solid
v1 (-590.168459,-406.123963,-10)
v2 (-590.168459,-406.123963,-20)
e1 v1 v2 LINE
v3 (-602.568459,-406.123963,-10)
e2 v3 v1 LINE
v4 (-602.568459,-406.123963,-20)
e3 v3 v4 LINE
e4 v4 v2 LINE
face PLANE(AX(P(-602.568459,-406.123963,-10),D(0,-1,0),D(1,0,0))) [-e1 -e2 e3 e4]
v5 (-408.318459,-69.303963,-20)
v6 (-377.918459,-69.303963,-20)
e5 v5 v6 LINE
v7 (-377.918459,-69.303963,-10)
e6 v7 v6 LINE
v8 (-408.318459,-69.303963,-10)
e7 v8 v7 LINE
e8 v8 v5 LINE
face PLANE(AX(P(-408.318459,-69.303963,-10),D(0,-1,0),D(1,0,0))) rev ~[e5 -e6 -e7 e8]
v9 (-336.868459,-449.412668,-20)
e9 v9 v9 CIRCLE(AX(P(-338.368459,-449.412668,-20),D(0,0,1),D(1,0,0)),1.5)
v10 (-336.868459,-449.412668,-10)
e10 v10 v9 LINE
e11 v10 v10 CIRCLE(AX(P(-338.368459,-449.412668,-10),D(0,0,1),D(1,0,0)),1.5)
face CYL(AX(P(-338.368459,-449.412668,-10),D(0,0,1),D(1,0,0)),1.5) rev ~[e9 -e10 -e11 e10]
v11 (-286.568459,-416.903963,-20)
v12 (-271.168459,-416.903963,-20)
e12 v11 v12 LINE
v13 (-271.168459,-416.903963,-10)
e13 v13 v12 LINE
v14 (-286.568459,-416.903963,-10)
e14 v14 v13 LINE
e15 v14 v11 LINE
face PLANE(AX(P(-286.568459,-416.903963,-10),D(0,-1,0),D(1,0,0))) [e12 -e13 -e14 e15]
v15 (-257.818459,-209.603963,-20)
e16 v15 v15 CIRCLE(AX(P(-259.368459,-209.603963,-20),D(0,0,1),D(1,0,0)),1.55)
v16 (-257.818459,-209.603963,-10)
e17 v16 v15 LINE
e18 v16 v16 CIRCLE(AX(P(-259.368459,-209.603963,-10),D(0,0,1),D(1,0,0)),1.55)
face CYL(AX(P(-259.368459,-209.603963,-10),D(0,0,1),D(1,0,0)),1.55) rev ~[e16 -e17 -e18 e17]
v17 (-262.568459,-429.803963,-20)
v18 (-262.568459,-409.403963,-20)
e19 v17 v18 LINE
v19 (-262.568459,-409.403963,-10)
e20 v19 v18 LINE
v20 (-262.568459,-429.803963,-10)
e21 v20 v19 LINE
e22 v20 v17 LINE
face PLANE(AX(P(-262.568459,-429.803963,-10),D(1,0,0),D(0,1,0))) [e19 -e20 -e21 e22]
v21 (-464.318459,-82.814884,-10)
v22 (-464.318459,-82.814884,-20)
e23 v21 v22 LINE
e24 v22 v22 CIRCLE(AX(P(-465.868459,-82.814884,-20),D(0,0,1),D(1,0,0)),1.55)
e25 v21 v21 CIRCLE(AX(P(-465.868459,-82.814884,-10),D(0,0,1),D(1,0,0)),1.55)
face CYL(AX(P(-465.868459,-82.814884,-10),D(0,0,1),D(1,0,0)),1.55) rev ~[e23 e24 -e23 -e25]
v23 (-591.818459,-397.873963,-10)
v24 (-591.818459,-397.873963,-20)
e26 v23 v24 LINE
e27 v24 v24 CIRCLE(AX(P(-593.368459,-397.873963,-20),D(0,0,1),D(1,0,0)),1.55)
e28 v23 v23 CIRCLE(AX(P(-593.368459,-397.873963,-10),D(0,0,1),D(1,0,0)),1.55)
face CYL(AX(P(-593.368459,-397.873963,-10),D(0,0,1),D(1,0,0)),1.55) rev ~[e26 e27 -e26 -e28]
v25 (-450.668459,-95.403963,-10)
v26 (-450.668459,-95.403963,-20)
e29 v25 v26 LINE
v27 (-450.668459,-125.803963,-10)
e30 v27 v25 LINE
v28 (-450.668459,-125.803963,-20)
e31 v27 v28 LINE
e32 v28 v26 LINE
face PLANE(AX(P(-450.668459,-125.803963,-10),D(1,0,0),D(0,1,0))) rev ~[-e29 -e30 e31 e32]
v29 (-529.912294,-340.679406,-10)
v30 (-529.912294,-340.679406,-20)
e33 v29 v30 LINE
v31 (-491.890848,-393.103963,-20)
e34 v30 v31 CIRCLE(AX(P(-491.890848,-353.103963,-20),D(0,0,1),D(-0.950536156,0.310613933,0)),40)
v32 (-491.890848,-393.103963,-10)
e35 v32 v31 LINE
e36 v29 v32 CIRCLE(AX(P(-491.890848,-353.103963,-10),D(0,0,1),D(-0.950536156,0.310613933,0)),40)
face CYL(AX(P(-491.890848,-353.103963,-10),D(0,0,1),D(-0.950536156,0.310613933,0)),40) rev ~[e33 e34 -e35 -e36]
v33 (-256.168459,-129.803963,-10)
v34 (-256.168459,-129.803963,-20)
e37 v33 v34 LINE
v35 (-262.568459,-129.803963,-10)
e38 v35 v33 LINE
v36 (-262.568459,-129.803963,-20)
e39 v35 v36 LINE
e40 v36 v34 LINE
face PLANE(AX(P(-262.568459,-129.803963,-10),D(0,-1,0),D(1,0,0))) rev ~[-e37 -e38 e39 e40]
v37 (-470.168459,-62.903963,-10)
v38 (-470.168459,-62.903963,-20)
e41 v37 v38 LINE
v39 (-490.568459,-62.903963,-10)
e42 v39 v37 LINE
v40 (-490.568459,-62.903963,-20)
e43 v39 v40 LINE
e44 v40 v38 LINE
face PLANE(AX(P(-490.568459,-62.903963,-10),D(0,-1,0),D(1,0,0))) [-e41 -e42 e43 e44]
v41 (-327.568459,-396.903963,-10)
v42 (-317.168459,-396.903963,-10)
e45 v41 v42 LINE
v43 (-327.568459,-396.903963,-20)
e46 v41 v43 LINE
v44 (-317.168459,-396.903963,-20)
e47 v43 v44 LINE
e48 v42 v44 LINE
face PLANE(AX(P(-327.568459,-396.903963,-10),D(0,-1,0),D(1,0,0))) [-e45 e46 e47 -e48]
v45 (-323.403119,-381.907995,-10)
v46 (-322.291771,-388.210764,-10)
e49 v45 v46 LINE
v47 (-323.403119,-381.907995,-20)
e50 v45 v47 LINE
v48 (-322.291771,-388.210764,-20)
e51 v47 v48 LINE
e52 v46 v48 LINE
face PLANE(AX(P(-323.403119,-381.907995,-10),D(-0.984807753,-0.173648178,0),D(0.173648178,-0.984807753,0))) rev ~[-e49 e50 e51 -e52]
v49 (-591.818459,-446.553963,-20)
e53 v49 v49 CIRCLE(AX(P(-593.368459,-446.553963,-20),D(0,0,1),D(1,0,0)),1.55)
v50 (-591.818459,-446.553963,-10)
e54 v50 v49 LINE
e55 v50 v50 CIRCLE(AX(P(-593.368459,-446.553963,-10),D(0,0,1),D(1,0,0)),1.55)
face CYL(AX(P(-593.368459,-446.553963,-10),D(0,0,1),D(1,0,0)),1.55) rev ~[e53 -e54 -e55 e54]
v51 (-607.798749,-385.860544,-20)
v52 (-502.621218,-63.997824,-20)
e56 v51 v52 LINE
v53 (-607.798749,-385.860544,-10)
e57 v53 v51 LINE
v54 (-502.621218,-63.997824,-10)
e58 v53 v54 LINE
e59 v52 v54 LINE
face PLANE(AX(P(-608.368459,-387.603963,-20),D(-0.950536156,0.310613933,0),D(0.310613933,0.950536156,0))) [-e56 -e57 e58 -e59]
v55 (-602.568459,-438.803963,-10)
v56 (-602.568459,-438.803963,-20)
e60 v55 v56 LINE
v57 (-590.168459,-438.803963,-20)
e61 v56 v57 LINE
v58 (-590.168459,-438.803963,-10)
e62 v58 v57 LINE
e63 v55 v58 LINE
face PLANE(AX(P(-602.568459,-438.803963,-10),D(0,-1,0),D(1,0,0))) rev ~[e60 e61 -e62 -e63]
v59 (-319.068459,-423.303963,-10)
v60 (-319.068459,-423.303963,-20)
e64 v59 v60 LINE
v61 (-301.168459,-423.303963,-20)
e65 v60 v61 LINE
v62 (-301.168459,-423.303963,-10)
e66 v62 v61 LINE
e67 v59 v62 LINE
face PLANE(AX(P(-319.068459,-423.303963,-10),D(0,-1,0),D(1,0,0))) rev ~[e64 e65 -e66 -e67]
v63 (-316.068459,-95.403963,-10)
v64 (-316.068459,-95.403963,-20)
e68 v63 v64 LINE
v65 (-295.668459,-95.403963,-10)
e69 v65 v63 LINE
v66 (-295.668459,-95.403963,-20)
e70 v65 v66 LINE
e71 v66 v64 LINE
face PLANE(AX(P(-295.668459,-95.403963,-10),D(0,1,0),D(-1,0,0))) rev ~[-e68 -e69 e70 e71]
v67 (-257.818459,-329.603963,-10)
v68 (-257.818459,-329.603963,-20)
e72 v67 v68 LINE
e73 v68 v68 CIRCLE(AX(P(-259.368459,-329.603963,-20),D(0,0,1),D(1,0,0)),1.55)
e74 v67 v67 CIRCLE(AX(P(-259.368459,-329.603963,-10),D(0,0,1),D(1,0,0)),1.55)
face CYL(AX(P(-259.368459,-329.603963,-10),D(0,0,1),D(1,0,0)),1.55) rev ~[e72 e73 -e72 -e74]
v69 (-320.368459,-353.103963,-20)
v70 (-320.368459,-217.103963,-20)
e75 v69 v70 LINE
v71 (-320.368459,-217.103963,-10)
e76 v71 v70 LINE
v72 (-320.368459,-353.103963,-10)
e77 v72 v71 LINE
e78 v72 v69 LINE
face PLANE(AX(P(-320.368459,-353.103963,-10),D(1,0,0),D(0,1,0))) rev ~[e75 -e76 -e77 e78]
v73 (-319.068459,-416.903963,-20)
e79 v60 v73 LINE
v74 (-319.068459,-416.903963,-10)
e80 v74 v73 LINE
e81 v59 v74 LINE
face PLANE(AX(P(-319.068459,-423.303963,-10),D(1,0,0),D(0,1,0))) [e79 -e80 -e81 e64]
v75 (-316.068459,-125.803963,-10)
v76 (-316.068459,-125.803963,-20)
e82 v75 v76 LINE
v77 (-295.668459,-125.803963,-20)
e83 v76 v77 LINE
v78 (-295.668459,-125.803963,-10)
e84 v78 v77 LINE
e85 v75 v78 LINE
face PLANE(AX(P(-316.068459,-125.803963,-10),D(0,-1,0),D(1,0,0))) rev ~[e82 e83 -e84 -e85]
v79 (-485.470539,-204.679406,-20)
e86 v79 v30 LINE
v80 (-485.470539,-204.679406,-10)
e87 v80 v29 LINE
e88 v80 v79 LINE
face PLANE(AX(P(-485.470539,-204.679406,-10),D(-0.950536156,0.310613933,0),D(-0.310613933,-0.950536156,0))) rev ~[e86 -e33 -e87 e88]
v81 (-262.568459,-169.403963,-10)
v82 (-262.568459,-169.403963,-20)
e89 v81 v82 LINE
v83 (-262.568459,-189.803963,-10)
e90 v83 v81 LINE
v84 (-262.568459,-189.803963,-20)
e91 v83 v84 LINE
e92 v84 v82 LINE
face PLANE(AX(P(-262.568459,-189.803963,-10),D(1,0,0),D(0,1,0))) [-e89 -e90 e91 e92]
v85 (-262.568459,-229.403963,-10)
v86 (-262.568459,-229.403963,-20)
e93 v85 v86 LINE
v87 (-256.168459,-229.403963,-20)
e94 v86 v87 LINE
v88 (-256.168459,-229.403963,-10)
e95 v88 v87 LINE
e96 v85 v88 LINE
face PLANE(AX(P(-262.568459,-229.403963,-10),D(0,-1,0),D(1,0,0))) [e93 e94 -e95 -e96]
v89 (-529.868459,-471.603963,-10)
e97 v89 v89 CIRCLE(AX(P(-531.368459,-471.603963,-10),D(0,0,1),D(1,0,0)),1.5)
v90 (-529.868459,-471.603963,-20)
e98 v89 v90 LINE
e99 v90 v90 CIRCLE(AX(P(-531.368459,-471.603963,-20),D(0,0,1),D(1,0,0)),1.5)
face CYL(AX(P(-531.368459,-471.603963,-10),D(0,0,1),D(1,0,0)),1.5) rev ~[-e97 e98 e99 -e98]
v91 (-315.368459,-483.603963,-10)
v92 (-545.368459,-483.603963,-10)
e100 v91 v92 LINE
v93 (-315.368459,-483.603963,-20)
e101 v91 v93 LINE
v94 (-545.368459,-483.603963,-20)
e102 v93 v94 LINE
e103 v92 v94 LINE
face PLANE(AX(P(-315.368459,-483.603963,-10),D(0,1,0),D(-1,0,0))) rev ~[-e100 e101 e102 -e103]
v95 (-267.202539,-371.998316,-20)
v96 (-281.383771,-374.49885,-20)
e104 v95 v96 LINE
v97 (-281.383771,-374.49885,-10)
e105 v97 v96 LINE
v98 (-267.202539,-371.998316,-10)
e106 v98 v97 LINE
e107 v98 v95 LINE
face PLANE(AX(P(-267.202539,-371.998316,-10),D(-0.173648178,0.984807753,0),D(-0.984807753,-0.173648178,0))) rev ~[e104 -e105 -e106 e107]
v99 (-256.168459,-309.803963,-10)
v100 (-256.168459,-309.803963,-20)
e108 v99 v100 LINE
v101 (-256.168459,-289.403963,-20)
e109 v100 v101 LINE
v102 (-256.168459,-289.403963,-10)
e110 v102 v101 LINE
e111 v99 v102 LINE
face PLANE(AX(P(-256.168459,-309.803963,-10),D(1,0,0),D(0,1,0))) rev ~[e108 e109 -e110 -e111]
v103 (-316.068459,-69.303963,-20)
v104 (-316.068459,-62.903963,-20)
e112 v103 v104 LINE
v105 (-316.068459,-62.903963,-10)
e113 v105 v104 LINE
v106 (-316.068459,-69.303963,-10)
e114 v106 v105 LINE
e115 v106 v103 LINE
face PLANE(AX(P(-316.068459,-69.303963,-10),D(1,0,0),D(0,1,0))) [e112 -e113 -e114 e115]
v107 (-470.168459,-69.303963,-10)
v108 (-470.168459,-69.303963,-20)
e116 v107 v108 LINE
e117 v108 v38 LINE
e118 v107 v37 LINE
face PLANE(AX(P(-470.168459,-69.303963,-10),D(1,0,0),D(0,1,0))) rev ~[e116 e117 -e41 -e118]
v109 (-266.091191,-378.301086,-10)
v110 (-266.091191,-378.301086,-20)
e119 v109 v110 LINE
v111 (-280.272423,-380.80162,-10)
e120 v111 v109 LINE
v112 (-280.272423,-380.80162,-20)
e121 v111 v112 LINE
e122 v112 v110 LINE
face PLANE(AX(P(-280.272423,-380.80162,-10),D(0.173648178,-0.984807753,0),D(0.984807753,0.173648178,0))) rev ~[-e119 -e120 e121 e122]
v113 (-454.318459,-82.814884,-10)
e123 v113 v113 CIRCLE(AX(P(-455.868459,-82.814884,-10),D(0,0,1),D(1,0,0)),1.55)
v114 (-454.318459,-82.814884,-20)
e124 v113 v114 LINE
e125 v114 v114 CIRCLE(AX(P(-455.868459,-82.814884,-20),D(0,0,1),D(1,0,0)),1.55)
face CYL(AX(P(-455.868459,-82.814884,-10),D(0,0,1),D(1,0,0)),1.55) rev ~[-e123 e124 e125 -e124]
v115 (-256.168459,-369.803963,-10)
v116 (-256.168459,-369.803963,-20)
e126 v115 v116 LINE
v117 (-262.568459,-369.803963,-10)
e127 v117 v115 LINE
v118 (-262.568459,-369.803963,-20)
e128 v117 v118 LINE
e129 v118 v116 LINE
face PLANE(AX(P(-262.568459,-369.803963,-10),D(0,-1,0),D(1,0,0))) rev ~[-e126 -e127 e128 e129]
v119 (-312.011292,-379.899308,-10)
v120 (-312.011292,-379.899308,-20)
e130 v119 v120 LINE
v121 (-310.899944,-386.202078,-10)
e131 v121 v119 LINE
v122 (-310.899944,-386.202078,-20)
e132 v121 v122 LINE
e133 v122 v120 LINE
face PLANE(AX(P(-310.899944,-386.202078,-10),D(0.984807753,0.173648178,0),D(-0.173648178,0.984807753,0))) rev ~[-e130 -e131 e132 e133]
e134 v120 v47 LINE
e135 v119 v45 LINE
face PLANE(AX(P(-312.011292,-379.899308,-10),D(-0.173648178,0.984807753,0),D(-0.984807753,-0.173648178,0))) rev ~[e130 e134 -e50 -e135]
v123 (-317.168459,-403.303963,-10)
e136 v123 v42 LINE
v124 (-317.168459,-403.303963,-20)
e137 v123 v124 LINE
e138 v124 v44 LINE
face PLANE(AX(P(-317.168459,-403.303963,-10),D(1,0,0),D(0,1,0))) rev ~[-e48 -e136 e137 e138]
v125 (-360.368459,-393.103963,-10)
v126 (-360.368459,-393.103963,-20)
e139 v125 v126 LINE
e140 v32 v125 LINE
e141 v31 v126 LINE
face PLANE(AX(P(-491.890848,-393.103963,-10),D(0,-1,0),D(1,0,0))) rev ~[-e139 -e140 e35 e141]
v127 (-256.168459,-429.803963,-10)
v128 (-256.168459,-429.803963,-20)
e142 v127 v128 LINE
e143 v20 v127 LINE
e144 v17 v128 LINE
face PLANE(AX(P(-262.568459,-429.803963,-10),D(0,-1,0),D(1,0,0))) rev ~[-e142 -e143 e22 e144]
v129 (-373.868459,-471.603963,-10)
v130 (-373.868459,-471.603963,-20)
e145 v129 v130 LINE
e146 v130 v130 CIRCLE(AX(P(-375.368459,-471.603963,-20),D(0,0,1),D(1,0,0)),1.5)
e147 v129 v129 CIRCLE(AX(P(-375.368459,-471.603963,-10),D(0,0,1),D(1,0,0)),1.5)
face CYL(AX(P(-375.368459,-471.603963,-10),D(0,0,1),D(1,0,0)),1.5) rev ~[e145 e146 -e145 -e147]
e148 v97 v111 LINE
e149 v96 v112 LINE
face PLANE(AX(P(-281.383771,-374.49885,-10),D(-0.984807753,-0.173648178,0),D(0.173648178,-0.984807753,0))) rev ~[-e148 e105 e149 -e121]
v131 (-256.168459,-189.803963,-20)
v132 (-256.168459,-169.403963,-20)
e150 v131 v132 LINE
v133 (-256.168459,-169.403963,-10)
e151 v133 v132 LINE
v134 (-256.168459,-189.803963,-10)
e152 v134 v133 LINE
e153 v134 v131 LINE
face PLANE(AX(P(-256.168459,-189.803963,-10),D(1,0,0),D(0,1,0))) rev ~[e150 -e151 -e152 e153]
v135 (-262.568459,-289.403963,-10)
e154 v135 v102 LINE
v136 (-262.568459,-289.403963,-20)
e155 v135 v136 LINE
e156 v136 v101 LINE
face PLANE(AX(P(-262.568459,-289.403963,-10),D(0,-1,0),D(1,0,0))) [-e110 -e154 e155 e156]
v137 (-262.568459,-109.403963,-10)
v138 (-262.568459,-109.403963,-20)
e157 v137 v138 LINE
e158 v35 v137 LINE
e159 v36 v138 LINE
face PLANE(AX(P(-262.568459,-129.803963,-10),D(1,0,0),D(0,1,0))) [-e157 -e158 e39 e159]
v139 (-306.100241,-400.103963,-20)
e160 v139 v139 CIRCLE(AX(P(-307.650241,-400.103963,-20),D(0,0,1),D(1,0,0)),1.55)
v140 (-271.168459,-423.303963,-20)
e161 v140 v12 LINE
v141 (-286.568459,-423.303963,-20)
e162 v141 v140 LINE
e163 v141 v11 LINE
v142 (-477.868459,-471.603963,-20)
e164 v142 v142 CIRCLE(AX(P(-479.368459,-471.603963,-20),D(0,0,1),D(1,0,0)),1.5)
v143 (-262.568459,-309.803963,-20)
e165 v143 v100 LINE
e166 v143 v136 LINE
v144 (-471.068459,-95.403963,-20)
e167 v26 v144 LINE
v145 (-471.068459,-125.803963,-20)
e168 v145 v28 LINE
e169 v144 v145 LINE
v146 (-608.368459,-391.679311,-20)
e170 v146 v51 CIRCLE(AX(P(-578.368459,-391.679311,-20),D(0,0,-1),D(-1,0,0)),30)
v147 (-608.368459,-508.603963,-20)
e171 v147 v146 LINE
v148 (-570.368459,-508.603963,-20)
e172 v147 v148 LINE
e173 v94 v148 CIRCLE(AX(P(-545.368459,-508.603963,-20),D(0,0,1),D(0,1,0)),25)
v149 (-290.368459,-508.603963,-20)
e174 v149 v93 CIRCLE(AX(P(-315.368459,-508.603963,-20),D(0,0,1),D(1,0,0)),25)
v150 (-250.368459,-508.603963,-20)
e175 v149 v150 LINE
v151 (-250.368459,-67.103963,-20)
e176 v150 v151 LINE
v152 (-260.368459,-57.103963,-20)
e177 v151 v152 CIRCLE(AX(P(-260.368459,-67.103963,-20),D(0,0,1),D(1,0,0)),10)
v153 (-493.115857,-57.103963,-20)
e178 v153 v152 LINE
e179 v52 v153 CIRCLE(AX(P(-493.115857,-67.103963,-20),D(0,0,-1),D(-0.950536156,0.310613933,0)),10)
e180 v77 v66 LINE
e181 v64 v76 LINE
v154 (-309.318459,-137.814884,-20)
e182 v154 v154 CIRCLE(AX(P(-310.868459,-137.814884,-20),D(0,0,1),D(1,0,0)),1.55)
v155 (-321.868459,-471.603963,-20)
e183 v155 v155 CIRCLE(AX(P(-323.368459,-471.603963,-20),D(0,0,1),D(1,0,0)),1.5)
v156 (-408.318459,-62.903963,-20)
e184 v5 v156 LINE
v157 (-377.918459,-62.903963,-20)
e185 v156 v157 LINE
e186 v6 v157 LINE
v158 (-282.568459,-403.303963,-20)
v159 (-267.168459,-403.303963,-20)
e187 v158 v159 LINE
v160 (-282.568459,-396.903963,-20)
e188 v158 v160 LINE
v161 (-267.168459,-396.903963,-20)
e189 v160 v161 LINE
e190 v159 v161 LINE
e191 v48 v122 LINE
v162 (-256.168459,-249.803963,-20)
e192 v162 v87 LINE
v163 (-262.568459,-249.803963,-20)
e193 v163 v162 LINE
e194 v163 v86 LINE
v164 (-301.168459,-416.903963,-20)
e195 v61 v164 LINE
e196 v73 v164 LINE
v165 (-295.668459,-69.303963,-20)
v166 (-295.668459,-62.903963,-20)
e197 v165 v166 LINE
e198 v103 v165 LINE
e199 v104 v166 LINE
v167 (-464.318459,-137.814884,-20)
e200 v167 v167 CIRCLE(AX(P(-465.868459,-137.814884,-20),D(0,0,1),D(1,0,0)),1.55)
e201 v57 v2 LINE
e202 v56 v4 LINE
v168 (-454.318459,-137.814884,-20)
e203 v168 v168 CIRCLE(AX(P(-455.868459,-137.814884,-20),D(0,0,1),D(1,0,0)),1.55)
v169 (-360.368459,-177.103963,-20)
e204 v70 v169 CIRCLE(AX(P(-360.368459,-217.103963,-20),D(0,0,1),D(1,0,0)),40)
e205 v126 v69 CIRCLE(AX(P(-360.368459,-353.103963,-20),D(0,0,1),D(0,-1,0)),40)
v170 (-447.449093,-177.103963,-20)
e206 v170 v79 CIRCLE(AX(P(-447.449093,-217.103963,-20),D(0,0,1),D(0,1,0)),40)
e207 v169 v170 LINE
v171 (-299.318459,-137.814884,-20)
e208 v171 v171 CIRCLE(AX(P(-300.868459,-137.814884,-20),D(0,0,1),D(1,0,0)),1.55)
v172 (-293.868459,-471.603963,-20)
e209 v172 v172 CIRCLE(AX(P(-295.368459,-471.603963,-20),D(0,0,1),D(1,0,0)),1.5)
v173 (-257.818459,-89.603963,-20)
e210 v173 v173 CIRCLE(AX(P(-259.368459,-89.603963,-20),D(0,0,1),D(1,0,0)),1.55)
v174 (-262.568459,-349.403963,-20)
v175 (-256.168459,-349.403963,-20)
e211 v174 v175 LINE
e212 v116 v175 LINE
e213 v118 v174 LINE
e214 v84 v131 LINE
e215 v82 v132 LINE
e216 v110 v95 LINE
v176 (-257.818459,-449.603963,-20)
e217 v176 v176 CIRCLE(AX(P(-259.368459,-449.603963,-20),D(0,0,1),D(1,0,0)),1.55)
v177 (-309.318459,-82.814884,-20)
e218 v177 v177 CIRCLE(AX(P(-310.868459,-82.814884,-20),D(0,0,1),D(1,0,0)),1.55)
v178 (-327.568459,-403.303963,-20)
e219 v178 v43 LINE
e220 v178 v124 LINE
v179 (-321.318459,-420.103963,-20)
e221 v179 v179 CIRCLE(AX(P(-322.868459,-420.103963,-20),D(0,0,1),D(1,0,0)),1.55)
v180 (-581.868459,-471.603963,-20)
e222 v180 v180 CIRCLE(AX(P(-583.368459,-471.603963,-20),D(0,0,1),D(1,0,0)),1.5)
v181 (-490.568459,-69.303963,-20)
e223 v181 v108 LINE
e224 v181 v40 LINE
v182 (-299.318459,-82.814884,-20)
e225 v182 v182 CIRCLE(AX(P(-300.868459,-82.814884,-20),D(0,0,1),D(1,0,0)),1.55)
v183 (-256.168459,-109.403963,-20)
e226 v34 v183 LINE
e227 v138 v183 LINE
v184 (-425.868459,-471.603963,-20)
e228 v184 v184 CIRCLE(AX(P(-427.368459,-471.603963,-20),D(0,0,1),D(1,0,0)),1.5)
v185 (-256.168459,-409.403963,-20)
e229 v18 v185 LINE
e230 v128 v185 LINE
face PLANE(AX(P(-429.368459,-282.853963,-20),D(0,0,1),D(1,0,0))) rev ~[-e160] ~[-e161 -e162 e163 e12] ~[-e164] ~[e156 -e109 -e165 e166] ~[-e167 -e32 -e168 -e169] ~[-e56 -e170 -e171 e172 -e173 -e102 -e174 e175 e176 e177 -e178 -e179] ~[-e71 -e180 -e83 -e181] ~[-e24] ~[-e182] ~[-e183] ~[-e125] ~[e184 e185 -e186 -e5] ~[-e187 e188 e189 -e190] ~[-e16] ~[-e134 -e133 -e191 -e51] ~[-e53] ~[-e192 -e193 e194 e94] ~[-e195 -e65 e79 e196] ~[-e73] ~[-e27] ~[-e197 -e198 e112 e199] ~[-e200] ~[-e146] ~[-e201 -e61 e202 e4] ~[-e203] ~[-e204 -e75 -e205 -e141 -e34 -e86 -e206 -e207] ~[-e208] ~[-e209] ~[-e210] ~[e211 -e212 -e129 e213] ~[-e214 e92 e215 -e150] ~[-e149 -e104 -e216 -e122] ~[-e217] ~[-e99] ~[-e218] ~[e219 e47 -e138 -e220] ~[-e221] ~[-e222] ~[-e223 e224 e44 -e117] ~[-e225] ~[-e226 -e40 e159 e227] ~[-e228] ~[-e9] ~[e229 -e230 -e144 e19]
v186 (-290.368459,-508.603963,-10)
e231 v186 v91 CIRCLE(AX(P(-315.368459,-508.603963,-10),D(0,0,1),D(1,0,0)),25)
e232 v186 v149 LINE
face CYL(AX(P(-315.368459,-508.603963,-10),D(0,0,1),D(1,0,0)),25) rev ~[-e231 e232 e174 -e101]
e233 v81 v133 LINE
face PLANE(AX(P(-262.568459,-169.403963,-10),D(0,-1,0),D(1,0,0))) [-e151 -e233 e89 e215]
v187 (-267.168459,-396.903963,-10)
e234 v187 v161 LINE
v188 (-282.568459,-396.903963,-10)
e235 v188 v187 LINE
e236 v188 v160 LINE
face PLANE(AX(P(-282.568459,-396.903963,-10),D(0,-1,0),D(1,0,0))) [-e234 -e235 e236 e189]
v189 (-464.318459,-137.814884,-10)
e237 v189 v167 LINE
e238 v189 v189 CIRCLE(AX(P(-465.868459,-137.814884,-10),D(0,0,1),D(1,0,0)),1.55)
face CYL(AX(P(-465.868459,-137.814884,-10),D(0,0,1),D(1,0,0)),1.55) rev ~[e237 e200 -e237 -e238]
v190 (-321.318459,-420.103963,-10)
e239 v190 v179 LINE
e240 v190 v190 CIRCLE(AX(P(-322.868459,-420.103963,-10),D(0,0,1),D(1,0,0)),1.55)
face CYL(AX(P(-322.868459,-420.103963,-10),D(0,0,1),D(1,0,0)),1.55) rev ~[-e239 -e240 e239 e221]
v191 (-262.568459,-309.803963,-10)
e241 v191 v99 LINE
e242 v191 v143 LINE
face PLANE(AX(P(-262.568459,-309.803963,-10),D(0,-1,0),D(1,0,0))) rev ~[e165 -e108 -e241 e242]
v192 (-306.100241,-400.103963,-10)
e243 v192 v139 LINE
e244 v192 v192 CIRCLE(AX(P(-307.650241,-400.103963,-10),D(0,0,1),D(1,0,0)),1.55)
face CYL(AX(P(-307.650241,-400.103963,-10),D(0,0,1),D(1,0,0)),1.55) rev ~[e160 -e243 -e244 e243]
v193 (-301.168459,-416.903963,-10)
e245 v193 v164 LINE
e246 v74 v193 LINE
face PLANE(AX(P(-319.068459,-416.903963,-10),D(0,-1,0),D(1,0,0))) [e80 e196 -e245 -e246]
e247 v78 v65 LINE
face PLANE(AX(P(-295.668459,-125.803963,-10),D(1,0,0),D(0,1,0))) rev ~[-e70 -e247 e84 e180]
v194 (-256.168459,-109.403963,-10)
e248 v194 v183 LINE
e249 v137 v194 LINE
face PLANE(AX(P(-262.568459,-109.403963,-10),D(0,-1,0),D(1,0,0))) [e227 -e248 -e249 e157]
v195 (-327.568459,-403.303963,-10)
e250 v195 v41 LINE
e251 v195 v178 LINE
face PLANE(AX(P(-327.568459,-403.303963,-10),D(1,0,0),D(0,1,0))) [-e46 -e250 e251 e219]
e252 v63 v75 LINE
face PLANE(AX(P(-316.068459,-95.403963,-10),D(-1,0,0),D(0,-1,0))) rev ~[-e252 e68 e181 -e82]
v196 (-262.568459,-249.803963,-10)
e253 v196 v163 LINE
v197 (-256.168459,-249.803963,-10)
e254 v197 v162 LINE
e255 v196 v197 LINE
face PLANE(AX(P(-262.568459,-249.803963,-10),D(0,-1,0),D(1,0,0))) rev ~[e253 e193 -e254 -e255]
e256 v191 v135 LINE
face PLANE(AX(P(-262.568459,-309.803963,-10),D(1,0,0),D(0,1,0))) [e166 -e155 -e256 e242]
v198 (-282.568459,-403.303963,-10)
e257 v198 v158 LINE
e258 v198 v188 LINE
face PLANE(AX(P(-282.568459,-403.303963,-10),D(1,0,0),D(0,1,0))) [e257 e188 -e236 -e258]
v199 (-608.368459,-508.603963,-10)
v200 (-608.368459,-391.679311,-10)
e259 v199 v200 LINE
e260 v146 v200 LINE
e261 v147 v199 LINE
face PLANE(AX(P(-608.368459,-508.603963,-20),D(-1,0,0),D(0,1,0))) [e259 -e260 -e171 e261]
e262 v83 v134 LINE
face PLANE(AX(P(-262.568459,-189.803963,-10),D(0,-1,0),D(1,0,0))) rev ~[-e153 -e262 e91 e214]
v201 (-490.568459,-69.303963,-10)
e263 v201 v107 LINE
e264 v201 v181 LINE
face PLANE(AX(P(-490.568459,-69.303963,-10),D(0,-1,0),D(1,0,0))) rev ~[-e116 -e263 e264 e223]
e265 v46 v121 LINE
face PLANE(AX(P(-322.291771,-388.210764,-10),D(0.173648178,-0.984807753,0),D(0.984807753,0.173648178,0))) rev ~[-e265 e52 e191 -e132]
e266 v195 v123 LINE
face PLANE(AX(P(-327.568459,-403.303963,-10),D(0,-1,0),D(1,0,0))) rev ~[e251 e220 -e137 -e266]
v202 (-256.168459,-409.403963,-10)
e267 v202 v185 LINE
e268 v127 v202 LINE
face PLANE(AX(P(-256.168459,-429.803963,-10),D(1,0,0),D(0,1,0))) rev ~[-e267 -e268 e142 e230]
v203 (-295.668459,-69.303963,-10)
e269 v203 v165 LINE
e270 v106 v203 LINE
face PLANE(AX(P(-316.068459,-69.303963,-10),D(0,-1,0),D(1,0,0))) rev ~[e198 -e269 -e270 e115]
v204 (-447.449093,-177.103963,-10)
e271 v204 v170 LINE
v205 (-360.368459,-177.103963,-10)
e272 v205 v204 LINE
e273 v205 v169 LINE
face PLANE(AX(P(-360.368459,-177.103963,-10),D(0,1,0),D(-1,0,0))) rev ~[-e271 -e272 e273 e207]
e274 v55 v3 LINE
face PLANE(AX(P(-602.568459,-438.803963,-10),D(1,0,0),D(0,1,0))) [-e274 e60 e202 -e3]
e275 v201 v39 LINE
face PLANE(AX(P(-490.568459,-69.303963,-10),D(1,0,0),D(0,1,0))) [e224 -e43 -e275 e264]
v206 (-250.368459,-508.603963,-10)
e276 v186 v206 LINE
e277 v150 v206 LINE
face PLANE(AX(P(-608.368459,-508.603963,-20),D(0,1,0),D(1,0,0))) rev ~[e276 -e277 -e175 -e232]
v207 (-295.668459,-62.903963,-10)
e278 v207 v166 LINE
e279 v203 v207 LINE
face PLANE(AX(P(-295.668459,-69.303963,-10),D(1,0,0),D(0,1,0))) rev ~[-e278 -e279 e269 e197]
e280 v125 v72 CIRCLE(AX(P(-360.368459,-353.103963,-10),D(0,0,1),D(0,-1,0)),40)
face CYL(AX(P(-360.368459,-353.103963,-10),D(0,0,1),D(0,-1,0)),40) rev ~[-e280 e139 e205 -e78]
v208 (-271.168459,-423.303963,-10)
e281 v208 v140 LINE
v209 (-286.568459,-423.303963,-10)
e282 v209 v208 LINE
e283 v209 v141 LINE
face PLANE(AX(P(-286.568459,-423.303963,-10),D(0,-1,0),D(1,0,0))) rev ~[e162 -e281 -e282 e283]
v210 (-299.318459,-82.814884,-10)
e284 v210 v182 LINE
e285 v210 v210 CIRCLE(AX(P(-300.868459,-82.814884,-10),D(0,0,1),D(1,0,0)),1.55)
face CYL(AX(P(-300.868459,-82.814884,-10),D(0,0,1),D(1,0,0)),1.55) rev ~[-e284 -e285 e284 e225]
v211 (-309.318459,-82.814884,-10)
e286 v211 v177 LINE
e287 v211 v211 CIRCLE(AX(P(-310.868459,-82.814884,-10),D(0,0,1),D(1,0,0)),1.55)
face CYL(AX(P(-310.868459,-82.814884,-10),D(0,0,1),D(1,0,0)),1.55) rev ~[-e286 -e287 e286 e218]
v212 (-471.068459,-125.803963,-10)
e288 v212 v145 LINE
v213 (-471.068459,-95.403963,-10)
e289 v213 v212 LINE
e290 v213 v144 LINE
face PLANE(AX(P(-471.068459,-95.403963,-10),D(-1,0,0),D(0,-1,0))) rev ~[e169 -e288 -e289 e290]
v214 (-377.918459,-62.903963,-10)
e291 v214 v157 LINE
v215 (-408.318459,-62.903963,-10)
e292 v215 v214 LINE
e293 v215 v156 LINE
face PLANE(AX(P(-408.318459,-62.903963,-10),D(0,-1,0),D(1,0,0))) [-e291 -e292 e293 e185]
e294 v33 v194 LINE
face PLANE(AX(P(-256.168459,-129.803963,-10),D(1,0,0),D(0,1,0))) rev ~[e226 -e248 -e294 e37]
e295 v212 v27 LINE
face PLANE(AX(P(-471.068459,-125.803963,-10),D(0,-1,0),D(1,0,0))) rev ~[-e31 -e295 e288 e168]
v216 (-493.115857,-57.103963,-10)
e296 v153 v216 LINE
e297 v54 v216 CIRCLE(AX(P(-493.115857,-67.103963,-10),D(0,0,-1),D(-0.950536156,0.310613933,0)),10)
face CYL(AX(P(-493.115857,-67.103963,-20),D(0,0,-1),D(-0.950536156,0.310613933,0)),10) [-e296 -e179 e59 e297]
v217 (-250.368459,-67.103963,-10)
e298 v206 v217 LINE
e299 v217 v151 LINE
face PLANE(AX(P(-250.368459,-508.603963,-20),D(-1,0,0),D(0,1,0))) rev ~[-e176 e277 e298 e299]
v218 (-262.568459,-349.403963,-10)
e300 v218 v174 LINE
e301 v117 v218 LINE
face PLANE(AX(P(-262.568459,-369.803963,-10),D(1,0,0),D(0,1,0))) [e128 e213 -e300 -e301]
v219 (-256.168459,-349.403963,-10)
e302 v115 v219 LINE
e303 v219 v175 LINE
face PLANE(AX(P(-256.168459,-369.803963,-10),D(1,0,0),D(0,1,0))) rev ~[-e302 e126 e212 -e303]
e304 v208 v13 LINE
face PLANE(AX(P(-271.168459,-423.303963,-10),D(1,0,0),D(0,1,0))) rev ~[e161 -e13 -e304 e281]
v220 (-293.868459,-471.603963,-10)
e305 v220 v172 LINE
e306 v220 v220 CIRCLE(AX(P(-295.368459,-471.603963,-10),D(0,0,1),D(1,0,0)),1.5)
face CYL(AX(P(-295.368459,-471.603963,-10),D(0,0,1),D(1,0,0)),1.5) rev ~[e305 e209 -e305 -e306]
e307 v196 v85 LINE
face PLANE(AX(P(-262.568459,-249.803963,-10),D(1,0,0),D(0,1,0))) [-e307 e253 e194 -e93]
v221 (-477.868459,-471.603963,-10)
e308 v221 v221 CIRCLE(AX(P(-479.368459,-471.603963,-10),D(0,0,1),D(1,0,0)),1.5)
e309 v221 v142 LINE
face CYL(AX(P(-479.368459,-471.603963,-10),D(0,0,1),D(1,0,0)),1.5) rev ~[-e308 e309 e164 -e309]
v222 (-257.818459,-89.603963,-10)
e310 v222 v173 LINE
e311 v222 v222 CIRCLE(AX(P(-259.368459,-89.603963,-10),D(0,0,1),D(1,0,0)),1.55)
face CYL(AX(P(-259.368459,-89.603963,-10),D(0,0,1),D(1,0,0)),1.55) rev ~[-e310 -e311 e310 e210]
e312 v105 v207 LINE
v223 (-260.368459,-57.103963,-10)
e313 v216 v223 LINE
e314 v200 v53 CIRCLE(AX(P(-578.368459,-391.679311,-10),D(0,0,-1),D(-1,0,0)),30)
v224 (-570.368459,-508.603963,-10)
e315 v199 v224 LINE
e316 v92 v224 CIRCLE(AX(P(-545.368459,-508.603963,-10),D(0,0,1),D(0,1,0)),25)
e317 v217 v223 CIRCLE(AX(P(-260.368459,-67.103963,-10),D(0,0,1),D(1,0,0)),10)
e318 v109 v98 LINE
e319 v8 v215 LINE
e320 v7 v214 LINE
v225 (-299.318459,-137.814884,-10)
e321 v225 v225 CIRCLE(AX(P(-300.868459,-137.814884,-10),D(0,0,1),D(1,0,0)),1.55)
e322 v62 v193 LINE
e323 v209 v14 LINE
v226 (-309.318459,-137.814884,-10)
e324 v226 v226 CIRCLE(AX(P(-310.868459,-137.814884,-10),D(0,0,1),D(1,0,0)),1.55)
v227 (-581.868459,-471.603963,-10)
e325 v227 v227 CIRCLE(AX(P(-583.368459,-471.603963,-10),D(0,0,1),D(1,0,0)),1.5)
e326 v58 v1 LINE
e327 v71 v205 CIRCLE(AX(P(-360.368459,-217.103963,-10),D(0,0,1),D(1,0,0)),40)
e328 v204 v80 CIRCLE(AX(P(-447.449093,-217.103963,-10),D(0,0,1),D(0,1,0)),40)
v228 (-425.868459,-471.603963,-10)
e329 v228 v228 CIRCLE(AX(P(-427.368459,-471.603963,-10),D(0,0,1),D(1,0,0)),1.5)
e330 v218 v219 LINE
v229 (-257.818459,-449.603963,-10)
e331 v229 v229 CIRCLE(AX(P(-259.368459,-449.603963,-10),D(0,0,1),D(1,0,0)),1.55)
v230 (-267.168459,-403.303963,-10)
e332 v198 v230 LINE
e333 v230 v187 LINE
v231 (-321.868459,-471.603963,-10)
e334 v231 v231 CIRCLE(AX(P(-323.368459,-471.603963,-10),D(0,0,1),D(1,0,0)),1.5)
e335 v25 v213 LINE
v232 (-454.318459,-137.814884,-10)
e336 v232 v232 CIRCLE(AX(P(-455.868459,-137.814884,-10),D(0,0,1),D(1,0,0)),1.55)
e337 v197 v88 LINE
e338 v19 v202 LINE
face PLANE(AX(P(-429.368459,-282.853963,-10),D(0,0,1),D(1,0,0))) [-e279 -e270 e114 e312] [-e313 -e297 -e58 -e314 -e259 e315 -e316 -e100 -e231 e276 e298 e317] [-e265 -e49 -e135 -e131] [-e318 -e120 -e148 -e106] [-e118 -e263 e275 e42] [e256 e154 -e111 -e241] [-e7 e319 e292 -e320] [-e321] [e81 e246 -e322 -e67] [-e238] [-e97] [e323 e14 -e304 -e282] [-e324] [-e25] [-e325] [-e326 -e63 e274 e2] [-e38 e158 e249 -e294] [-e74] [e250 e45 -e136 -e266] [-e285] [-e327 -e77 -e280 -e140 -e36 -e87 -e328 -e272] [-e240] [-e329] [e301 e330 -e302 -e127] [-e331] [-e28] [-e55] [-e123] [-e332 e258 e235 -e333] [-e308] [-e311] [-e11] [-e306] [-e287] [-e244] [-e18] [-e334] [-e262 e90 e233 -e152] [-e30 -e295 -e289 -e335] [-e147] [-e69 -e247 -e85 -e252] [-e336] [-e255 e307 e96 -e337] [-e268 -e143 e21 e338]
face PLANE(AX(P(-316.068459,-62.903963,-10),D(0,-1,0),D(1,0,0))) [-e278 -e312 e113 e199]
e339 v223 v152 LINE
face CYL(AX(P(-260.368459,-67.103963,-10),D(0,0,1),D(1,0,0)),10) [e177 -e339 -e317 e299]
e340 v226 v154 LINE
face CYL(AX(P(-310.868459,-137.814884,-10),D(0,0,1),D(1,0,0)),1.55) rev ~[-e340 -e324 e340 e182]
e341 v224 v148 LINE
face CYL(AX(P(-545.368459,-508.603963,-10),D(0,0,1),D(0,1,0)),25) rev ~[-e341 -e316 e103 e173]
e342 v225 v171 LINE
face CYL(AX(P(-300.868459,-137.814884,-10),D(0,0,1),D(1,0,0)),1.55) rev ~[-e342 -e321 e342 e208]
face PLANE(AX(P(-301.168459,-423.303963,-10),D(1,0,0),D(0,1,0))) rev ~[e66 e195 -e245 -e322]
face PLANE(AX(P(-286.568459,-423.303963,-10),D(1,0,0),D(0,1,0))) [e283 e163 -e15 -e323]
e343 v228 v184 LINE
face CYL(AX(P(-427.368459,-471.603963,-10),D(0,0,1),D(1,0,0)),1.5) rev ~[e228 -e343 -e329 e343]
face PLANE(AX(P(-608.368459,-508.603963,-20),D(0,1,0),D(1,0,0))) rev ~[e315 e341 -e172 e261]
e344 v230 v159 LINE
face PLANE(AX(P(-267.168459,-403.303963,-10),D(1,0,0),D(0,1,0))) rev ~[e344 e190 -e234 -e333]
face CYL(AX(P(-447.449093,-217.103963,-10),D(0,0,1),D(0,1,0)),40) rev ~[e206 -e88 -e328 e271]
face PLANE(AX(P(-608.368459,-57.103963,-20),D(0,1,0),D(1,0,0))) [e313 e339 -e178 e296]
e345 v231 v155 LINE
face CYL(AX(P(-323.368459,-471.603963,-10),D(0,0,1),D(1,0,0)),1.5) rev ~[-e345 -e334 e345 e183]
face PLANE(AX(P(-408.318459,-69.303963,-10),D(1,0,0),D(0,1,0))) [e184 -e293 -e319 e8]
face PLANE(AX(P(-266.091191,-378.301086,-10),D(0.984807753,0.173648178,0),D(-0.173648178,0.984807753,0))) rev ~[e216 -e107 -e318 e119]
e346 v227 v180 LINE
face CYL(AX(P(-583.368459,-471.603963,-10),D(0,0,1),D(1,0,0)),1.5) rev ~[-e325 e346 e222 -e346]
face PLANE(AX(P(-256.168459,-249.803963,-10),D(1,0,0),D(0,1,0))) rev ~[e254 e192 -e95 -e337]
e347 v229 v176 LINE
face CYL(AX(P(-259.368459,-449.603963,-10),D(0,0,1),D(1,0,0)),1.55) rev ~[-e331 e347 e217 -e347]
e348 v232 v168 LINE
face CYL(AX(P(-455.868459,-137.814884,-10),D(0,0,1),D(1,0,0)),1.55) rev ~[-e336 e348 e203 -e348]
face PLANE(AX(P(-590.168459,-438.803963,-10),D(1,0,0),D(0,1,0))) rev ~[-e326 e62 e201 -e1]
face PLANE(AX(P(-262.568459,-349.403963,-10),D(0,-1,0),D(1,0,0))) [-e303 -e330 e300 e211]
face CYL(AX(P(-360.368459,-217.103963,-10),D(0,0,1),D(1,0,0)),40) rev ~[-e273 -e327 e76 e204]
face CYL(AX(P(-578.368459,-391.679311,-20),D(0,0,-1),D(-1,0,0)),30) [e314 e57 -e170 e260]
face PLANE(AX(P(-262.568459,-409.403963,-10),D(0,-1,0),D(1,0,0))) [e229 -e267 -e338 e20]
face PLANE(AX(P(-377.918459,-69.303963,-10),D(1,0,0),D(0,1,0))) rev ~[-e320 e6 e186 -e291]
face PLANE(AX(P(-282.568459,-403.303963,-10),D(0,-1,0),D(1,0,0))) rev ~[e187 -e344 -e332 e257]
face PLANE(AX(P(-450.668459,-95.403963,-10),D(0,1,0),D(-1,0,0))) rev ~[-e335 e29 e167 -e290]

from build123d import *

# Parameters (mm, degrees)
SZKIC1_W                    = 358
SZKIC1_H                    = 451.5
DODANIE_WYCI_GNI_CIE1_DEPTH = 10
WYTNIJ_WYCI_GNI_CIE1_DEPTH  = 10
WYTNIJ_WYCI_GNI_CIE2_DEPTH  = 10
WYTNIJ_WYCI_GNI_CIE3_DEPTH  = 10
SZKIC8_W                    = 6.4
SZKIC8_H                    = 20.4
WYTNIJ_WYCI_GNI_CIE4_DEPTH  = 10
SZYK_LINIOWY1_COUNT         = 6
SZYK_LINIOWY1_PITCH         = 60
SZKIC9_R                    = 1.55
WYTNIJ_WYCI_GNI_CIE5_DEPTH  = 10
SZYK_LINIOWY2_COUNT         = 4
SZYK_LINIOWY2_PITCH         = 120
SZKIC12_W                   = 12.4
SZKIC12_H                   = 32.68
WYTNIJ_WYCI_GNI_CIE7_DEPTH  = 10
SZKIC13_R                   = 1.55
WYTNIJ_WYCI_GNI_CIE8_DEPTH  = 10
SZKIC15_R                   = 1.5
WYTNIJ_WYCI_GNI_CIE9_DEPTH  = 10
SZKIC17_R                   = 1.55
WYTNIJ_WYCI_GNI_CIE10_DEPTH = 10
SZKIC19_W                   = 20.4
SZKIC19_H                   = 6.4
SZKIC19_W_2                 = 30.4
WYTNIJ_WYCI_GNI_CIE11_DEPTH = 10
SZKIC23_R                   = 1.55
SZKIC23_W                   = 15.4
SZKIC23_H                   = 6.4
SZKIC23_W_2                 = 17.9
WYTNIJ_WYCI_GNI_CIE12_DEPTH = 10
WYTNIJ_WYCI_GNI_CIE14_DEPTH = 10
SZKIC32_R                   = 1.55
SZKIC32_W                   = 10.4
SZKIC32_H                   = 6.4
SZKIC32_W_2                 = 15.4
WYTNIJ_WYCI_GNI_CIE15_DEPTH = 10
WYTNIJ_WYCI_GNI_CIE16_DEPTH = 10
SZYK_LINIOWY3_COUNT         = 2
SZYK_LINIOWY3_PITCH         = 155
WYTNIJ_WYCI_GNI_CIE17_DEPTH = 10


with BuildPart() as part:
    # Szkic1 → Dodanie-wyciągnięcie1 (new body)
    with BuildSketch(Plane.XY.offset(-20)):
        with Locations((-429.368459045, -282.853962956)):
            Rectangle(SZKIC1_W, SZKIC1_H)
    extrude(amount=DODANIE_WYCI_GNI_CIE1_DEPTH)

    # Szkic2 → Wytnij-wyciągnięcie1 (cut)
    with BuildSketch(Plane(origin=(0, 0, -20), x_dir=(-1, 0, 0), z_dir=(0, 0, -1))):
        with BuildLine():
            Line((608.368459045, -387.603962956), (502.621218356, -63.997823625))
            ThreePointArc((502.621218356, -63.997823625), (498.986913201, -59.008859704), (493.115856793, -57.103962956))
            Line((493.115856793, -57.103962956), (500.368459045, -57.103962956))
            Line((500.368459045, -57.103962956), (608.368459045, -57.103962956))
            Line((608.368459045, -57.103962956), (608.368459045, -387.603962956))
        make_face()
    extrude(amount=-WYTNIJ_WYCI_GNI_CIE1_DEPTH, mode=Mode.SUBTRACT)

    # Szkic3 → Wytnij-wyciągnięcie2 (cut)
    with BuildSketch(Plane.XY.offset(-10)):
        with BuildLine():
            Line((-570.368459045, -508.603962956), (-290.368459045, -508.603962956))
            ThreePointArc((-290.368459045, -508.603962956), (-297.690789516, -490.926293426), (-315.368459045, -483.603962956))
            Line((-315.368459045, -483.603962956), (-545.368459045, -483.603962956))
            ThreePointArc((-545.368459045, -483.603962956), (-563.046128575, -490.926293426), (-570.368459045, -508.603962956))
        make_face()
    extrude(amount=-WYTNIJ_WYCI_GNI_CIE2_DEPTH, mode=Mode.SUBTRACT)

    # Szkic4 → Wytnij-wyciągnięcie3 (cut)
    with BuildSketch(Plane.XY.offset(-10)):
        with BuildLine():
            Line((-491.890848015, -393.103962956), (-360.368459045, -393.103962956))
            ThreePointArc((-360.368459045, -393.103962956), (-332.084187798, -381.388234203), (-320.368459045, -353.103962956))
            Line((-320.368459045, -353.103962956), (-320.368459045, -217.103962956))
            ThreePointArc((-320.368459045, -217.103962956), (-332.084187798, -188.819691708), (-360.368459045, -177.103962956))
            Line((-360.368459045, -177.103962956), (-447.449093098, -177.103962956))
            ThreePointArc((-447.449093098, -177.103962956), (-470.93331873, -184.723549949), (-485.470539353, -204.679405632))
            Line((-485.470539353, -204.679405632), (-529.91229427, -340.679405632))
            ThreePointArc((-529.91229427, -340.679405632), (-524.271261022, -376.588188587), (-491.890848015, -393.103962956))
        make_face()
    extrude(amount=-WYTNIJ_WYCI_GNI_CIE3_DEPTH, mode=Mode.SUBTRACT)

    # Szkic8 → Wytnij-wyciągnięcie4 (cut)
    with BuildSketch(Plane.XY.offset(-10)):
        with Locations((-259.368459045, -119.603962956)):
            Rectangle(SZKIC8_W, SZKIC8_H)
    wytnij_wyci_gni_cie4 = extrude(amount=-WYTNIJ_WYCI_GNI_CIE4_DEPTH, mode=Mode.SUBTRACT)

    # Szyk liniowy1: Wytnij-wyciągnięcie4 ×6
    with Locations(*[(0, -i * SZYK_LINIOWY1_PITCH, 0) for i in range(1, SZYK_LINIOWY1_COUNT)]):
        add(wytnij_wyci_gni_cie4, mode=Mode.SUBTRACT)

    # Szkic9 → Wytnij-wyciągnięcie5 (cut)
    with BuildSketch(Plane.XY.offset(-10)):
        with Locations((-259.368459045, -89.603962956)):
            Circle(SZKIC9_R)
    wytnij_wyci_gni_cie5 = extrude(amount=-WYTNIJ_WYCI_GNI_CIE5_DEPTH, mode=Mode.SUBTRACT)

    # Szyk liniowy2: Wytnij-wyciągnięcie5 ×4
    with Locations(*[(0, -i * SZYK_LINIOWY2_PITCH, 0) for i in range(1, SZYK_LINIOWY2_COUNT)]):
        add(wytnij_wyci_gni_cie5, mode=Mode.SUBTRACT)

    # Szkic12 → Wytnij-wyciągnięcie7 (cut)
    with BuildSketch(Plane.XY.offset(-10)):
        with Locations((-596.368459045, -422.463962956)):
            Rectangle(SZKIC12_W, SZKIC12_H)
    extrude(amount=-WYTNIJ_WYCI_GNI_CIE7_DEPTH, mode=Mode.SUBTRACT)

    # Szkic13 → Wytnij-wyciągnięcie8 (cut)
    with BuildSketch(Plane.XY.offset(-10)):
        with Locations((-593.368459045, -397.873962956)):
            Circle(SZKIC13_R)
        with Locations((-593.368459045, -446.553962956)):
            Circle(SZKIC13_R)
    extrude(amount=-WYTNIJ_WYCI_GNI_CIE8_DEPTH, mode=Mode.SUBTRACT)

    # Szkic15 → Wytnij-wyciągnięcie9 (cut)
    with BuildSketch(Plane.XY.offset(-10)):
        with Locations((-295.368459045, -471.603962956)):
            Circle(SZKIC15_R)
        with Locations((-323.368459045, -471.603962956)):
            Circle(SZKIC15_R)
        with Locations((-375.368459045, -471.603962956)):
            Circle(SZKIC15_R)
        with Locations((-427.368459045, -471.603962956)):
            Circle(SZKIC15_R)
        with Locations((-531.368459045, -471.603962956)):
            Circle(SZKIC15_R)
        with Locations((-479.368459045, -471.603962956)):
            Circle(SZKIC15_R)
        with Locations((-583.368459045, -471.603962956)):
            Circle(SZKIC15_R)
        with Locations((-338.368459045, -449.412668339)):
            Circle(SZKIC15_R)
    extrude(amount=-WYTNIJ_WYCI_GNI_CIE9_DEPTH, mode=Mode.SUBTRACT)

    # Szkic17 → Wytnij-wyciągnięcie10 (cut)
    with BuildSketch(Plane.XY.offset(-10)):
        with Locations((-455.868459045, -137.814883619)):
            Circle(SZKIC17_R)
        with Locations((-455.868459045, -82.814883619)):
            Circle(SZKIC17_R)
        with Locations((-465.868459045, -137.814883619)):
            Circle(SZKIC17_R)
        with Locations((-465.868459045, -82.814883619)):
            Circle(SZKIC17_R)
        Polygon((-471.068459045, -125.803962956), (-460.868459045, -125.803962956), (-450.668459045, -125.803962956), (-450.668459045, -95.403962956), (-460.868459045, -95.403962956), (-471.068459045, -95.403962956), align=None)
    wytnij_wyci_gni_cie10 = extrude(amount=-WYTNIJ_WYCI_GNI_CIE10_DEPTH, mode=Mode.SUBTRACT)

    # Szkic19 → Wytnij-wyciągnięcie11 (cut)
    with BuildSketch(Plane.XY.offset(-10)):
        with Locations((-480.368459045, -66.103962956)):
            Rectangle(SZKIC19_W, SZKIC19_H)
        with Locations((-393.118459045, -66.103962956)):
            Rectangle(SZKIC19_W_2, SZKIC19_H)
        with Locations((-305.868459045, -66.103962956)):
            Rectangle(SZKIC19_W, SZKIC19_H)
    extrude(amount=-WYTNIJ_WYCI_GNI_CIE11_DEPTH, mode=Mode.SUBTRACT)

    # Szkic23 → Wytnij-wyciągnięcie12 (cut)
    with BuildSketch(Plane.XY.offset(-10)):
        with Locations((-322.868459045, -420.103962956)):
            Circle(SZKIC23_R)
        with Locations((-278.868459045, -420.103962956)):
            Rectangle(SZKIC23_W, SZKIC23_H)
        with Locations((-310.118459045, -420.103962956)):
            Rectangle(SZKIC23_W_2, SZKIC23_H)
    extrude(amount=-WYTNIJ_WYCI_GNI_CIE12_DEPTH, mode=Mode.SUBTRACT)

    # Szkic29 → Wytnij-wyciągnięcie14 (cut)
    with BuildSketch(Plane.XY.offset(-10)):
        Polygon((-323.403118877, -381.907994616), (-322.29177054, -388.210764235), (-310.89994388, -386.202077835), (-312.011292217, -379.899308216), align=None)
        Polygon((-281.383771099, -374.498849891), (-280.272422762, -380.80161951), (-266.091191118, -378.301085752), (-267.202539455, -371.998316132), align=None)
    extrude(amount=-WYTNIJ_WYCI_GNI_CIE14_DEPTH, mode=Mode.SUBTRACT)

    # Szkic32 → Wytnij-wyciągnięcie15 (cut)
    with BuildSketch(Plane.XY.offset(-10)):
        with Locations((-307.650240695, -400.103962956)):
            Circle(SZKIC32_R)
        with Locations((-322.368459045, -400.103962956)):
            Rectangle(SZKIC32_W, SZKIC32_H)
        with Locations((-274.868459045, -400.103962956)):
            Rectangle(SZKIC32_W_2, SZKIC32_H)
    extrude(amount=-WYTNIJ_WYCI_GNI_CIE15_DEPTH, mode=Mode.SUBTRACT)

    # Szkic34 → Wytnij-wyciągnięcie16 (cut)
    with BuildSketch(Plane(origin=(0, 0, -20), x_dir=(-1, 0, 0), z_dir=(0, 0, -1))):
        with BuildLine():
            Line((607.281290895, -383.676301549), (608.368459045, -387.603962956))
            Line((608.368459045, -387.603962956), (608.368459045, -391.679310636))
            ThreePointArc((608.368459045, -391.679310636), (608.095424544, -387.641053306), (607.281290895, -383.676301549))
        make_face()
    extrude(amount=-WYTNIJ_WYCI_GNI_CIE16_DEPTH, mode=Mode.SUBTRACT)

    # Szyk liniowy3: Wytnij-wyciągnięcie10 ×2
    with Locations(*[(i * SZYK_LINIOWY3_PITCH, 0, 0) for i in range(1, SZYK_LINIOWY3_COUNT)]):
        add(wytnij_wyci_gni_cie10, mode=Mode.SUBTRACT)

    # Szkic35 → Wytnij-wyciągnięcie17 (cut)
    with BuildSketch(Plane.XY.offset(-10)):
        with BuildLine():
            Line((-260.368459045, -57.103962956), (-250.368459045, -57.103962956))
            Line((-250.368459045, -57.103962956), (-250.368459045, -67.103962956))
            ThreePointArc((-250.368459045, -67.103962956), (-253.297391233, -60.032895144), (-260.368459045, -57.103962956))
        make_face()
    extrude(amount=-WYTNIJ_WYCI_GNI_CIE17_DEPTH, mode=Mode.SUBTRACT)


solid = part.part
